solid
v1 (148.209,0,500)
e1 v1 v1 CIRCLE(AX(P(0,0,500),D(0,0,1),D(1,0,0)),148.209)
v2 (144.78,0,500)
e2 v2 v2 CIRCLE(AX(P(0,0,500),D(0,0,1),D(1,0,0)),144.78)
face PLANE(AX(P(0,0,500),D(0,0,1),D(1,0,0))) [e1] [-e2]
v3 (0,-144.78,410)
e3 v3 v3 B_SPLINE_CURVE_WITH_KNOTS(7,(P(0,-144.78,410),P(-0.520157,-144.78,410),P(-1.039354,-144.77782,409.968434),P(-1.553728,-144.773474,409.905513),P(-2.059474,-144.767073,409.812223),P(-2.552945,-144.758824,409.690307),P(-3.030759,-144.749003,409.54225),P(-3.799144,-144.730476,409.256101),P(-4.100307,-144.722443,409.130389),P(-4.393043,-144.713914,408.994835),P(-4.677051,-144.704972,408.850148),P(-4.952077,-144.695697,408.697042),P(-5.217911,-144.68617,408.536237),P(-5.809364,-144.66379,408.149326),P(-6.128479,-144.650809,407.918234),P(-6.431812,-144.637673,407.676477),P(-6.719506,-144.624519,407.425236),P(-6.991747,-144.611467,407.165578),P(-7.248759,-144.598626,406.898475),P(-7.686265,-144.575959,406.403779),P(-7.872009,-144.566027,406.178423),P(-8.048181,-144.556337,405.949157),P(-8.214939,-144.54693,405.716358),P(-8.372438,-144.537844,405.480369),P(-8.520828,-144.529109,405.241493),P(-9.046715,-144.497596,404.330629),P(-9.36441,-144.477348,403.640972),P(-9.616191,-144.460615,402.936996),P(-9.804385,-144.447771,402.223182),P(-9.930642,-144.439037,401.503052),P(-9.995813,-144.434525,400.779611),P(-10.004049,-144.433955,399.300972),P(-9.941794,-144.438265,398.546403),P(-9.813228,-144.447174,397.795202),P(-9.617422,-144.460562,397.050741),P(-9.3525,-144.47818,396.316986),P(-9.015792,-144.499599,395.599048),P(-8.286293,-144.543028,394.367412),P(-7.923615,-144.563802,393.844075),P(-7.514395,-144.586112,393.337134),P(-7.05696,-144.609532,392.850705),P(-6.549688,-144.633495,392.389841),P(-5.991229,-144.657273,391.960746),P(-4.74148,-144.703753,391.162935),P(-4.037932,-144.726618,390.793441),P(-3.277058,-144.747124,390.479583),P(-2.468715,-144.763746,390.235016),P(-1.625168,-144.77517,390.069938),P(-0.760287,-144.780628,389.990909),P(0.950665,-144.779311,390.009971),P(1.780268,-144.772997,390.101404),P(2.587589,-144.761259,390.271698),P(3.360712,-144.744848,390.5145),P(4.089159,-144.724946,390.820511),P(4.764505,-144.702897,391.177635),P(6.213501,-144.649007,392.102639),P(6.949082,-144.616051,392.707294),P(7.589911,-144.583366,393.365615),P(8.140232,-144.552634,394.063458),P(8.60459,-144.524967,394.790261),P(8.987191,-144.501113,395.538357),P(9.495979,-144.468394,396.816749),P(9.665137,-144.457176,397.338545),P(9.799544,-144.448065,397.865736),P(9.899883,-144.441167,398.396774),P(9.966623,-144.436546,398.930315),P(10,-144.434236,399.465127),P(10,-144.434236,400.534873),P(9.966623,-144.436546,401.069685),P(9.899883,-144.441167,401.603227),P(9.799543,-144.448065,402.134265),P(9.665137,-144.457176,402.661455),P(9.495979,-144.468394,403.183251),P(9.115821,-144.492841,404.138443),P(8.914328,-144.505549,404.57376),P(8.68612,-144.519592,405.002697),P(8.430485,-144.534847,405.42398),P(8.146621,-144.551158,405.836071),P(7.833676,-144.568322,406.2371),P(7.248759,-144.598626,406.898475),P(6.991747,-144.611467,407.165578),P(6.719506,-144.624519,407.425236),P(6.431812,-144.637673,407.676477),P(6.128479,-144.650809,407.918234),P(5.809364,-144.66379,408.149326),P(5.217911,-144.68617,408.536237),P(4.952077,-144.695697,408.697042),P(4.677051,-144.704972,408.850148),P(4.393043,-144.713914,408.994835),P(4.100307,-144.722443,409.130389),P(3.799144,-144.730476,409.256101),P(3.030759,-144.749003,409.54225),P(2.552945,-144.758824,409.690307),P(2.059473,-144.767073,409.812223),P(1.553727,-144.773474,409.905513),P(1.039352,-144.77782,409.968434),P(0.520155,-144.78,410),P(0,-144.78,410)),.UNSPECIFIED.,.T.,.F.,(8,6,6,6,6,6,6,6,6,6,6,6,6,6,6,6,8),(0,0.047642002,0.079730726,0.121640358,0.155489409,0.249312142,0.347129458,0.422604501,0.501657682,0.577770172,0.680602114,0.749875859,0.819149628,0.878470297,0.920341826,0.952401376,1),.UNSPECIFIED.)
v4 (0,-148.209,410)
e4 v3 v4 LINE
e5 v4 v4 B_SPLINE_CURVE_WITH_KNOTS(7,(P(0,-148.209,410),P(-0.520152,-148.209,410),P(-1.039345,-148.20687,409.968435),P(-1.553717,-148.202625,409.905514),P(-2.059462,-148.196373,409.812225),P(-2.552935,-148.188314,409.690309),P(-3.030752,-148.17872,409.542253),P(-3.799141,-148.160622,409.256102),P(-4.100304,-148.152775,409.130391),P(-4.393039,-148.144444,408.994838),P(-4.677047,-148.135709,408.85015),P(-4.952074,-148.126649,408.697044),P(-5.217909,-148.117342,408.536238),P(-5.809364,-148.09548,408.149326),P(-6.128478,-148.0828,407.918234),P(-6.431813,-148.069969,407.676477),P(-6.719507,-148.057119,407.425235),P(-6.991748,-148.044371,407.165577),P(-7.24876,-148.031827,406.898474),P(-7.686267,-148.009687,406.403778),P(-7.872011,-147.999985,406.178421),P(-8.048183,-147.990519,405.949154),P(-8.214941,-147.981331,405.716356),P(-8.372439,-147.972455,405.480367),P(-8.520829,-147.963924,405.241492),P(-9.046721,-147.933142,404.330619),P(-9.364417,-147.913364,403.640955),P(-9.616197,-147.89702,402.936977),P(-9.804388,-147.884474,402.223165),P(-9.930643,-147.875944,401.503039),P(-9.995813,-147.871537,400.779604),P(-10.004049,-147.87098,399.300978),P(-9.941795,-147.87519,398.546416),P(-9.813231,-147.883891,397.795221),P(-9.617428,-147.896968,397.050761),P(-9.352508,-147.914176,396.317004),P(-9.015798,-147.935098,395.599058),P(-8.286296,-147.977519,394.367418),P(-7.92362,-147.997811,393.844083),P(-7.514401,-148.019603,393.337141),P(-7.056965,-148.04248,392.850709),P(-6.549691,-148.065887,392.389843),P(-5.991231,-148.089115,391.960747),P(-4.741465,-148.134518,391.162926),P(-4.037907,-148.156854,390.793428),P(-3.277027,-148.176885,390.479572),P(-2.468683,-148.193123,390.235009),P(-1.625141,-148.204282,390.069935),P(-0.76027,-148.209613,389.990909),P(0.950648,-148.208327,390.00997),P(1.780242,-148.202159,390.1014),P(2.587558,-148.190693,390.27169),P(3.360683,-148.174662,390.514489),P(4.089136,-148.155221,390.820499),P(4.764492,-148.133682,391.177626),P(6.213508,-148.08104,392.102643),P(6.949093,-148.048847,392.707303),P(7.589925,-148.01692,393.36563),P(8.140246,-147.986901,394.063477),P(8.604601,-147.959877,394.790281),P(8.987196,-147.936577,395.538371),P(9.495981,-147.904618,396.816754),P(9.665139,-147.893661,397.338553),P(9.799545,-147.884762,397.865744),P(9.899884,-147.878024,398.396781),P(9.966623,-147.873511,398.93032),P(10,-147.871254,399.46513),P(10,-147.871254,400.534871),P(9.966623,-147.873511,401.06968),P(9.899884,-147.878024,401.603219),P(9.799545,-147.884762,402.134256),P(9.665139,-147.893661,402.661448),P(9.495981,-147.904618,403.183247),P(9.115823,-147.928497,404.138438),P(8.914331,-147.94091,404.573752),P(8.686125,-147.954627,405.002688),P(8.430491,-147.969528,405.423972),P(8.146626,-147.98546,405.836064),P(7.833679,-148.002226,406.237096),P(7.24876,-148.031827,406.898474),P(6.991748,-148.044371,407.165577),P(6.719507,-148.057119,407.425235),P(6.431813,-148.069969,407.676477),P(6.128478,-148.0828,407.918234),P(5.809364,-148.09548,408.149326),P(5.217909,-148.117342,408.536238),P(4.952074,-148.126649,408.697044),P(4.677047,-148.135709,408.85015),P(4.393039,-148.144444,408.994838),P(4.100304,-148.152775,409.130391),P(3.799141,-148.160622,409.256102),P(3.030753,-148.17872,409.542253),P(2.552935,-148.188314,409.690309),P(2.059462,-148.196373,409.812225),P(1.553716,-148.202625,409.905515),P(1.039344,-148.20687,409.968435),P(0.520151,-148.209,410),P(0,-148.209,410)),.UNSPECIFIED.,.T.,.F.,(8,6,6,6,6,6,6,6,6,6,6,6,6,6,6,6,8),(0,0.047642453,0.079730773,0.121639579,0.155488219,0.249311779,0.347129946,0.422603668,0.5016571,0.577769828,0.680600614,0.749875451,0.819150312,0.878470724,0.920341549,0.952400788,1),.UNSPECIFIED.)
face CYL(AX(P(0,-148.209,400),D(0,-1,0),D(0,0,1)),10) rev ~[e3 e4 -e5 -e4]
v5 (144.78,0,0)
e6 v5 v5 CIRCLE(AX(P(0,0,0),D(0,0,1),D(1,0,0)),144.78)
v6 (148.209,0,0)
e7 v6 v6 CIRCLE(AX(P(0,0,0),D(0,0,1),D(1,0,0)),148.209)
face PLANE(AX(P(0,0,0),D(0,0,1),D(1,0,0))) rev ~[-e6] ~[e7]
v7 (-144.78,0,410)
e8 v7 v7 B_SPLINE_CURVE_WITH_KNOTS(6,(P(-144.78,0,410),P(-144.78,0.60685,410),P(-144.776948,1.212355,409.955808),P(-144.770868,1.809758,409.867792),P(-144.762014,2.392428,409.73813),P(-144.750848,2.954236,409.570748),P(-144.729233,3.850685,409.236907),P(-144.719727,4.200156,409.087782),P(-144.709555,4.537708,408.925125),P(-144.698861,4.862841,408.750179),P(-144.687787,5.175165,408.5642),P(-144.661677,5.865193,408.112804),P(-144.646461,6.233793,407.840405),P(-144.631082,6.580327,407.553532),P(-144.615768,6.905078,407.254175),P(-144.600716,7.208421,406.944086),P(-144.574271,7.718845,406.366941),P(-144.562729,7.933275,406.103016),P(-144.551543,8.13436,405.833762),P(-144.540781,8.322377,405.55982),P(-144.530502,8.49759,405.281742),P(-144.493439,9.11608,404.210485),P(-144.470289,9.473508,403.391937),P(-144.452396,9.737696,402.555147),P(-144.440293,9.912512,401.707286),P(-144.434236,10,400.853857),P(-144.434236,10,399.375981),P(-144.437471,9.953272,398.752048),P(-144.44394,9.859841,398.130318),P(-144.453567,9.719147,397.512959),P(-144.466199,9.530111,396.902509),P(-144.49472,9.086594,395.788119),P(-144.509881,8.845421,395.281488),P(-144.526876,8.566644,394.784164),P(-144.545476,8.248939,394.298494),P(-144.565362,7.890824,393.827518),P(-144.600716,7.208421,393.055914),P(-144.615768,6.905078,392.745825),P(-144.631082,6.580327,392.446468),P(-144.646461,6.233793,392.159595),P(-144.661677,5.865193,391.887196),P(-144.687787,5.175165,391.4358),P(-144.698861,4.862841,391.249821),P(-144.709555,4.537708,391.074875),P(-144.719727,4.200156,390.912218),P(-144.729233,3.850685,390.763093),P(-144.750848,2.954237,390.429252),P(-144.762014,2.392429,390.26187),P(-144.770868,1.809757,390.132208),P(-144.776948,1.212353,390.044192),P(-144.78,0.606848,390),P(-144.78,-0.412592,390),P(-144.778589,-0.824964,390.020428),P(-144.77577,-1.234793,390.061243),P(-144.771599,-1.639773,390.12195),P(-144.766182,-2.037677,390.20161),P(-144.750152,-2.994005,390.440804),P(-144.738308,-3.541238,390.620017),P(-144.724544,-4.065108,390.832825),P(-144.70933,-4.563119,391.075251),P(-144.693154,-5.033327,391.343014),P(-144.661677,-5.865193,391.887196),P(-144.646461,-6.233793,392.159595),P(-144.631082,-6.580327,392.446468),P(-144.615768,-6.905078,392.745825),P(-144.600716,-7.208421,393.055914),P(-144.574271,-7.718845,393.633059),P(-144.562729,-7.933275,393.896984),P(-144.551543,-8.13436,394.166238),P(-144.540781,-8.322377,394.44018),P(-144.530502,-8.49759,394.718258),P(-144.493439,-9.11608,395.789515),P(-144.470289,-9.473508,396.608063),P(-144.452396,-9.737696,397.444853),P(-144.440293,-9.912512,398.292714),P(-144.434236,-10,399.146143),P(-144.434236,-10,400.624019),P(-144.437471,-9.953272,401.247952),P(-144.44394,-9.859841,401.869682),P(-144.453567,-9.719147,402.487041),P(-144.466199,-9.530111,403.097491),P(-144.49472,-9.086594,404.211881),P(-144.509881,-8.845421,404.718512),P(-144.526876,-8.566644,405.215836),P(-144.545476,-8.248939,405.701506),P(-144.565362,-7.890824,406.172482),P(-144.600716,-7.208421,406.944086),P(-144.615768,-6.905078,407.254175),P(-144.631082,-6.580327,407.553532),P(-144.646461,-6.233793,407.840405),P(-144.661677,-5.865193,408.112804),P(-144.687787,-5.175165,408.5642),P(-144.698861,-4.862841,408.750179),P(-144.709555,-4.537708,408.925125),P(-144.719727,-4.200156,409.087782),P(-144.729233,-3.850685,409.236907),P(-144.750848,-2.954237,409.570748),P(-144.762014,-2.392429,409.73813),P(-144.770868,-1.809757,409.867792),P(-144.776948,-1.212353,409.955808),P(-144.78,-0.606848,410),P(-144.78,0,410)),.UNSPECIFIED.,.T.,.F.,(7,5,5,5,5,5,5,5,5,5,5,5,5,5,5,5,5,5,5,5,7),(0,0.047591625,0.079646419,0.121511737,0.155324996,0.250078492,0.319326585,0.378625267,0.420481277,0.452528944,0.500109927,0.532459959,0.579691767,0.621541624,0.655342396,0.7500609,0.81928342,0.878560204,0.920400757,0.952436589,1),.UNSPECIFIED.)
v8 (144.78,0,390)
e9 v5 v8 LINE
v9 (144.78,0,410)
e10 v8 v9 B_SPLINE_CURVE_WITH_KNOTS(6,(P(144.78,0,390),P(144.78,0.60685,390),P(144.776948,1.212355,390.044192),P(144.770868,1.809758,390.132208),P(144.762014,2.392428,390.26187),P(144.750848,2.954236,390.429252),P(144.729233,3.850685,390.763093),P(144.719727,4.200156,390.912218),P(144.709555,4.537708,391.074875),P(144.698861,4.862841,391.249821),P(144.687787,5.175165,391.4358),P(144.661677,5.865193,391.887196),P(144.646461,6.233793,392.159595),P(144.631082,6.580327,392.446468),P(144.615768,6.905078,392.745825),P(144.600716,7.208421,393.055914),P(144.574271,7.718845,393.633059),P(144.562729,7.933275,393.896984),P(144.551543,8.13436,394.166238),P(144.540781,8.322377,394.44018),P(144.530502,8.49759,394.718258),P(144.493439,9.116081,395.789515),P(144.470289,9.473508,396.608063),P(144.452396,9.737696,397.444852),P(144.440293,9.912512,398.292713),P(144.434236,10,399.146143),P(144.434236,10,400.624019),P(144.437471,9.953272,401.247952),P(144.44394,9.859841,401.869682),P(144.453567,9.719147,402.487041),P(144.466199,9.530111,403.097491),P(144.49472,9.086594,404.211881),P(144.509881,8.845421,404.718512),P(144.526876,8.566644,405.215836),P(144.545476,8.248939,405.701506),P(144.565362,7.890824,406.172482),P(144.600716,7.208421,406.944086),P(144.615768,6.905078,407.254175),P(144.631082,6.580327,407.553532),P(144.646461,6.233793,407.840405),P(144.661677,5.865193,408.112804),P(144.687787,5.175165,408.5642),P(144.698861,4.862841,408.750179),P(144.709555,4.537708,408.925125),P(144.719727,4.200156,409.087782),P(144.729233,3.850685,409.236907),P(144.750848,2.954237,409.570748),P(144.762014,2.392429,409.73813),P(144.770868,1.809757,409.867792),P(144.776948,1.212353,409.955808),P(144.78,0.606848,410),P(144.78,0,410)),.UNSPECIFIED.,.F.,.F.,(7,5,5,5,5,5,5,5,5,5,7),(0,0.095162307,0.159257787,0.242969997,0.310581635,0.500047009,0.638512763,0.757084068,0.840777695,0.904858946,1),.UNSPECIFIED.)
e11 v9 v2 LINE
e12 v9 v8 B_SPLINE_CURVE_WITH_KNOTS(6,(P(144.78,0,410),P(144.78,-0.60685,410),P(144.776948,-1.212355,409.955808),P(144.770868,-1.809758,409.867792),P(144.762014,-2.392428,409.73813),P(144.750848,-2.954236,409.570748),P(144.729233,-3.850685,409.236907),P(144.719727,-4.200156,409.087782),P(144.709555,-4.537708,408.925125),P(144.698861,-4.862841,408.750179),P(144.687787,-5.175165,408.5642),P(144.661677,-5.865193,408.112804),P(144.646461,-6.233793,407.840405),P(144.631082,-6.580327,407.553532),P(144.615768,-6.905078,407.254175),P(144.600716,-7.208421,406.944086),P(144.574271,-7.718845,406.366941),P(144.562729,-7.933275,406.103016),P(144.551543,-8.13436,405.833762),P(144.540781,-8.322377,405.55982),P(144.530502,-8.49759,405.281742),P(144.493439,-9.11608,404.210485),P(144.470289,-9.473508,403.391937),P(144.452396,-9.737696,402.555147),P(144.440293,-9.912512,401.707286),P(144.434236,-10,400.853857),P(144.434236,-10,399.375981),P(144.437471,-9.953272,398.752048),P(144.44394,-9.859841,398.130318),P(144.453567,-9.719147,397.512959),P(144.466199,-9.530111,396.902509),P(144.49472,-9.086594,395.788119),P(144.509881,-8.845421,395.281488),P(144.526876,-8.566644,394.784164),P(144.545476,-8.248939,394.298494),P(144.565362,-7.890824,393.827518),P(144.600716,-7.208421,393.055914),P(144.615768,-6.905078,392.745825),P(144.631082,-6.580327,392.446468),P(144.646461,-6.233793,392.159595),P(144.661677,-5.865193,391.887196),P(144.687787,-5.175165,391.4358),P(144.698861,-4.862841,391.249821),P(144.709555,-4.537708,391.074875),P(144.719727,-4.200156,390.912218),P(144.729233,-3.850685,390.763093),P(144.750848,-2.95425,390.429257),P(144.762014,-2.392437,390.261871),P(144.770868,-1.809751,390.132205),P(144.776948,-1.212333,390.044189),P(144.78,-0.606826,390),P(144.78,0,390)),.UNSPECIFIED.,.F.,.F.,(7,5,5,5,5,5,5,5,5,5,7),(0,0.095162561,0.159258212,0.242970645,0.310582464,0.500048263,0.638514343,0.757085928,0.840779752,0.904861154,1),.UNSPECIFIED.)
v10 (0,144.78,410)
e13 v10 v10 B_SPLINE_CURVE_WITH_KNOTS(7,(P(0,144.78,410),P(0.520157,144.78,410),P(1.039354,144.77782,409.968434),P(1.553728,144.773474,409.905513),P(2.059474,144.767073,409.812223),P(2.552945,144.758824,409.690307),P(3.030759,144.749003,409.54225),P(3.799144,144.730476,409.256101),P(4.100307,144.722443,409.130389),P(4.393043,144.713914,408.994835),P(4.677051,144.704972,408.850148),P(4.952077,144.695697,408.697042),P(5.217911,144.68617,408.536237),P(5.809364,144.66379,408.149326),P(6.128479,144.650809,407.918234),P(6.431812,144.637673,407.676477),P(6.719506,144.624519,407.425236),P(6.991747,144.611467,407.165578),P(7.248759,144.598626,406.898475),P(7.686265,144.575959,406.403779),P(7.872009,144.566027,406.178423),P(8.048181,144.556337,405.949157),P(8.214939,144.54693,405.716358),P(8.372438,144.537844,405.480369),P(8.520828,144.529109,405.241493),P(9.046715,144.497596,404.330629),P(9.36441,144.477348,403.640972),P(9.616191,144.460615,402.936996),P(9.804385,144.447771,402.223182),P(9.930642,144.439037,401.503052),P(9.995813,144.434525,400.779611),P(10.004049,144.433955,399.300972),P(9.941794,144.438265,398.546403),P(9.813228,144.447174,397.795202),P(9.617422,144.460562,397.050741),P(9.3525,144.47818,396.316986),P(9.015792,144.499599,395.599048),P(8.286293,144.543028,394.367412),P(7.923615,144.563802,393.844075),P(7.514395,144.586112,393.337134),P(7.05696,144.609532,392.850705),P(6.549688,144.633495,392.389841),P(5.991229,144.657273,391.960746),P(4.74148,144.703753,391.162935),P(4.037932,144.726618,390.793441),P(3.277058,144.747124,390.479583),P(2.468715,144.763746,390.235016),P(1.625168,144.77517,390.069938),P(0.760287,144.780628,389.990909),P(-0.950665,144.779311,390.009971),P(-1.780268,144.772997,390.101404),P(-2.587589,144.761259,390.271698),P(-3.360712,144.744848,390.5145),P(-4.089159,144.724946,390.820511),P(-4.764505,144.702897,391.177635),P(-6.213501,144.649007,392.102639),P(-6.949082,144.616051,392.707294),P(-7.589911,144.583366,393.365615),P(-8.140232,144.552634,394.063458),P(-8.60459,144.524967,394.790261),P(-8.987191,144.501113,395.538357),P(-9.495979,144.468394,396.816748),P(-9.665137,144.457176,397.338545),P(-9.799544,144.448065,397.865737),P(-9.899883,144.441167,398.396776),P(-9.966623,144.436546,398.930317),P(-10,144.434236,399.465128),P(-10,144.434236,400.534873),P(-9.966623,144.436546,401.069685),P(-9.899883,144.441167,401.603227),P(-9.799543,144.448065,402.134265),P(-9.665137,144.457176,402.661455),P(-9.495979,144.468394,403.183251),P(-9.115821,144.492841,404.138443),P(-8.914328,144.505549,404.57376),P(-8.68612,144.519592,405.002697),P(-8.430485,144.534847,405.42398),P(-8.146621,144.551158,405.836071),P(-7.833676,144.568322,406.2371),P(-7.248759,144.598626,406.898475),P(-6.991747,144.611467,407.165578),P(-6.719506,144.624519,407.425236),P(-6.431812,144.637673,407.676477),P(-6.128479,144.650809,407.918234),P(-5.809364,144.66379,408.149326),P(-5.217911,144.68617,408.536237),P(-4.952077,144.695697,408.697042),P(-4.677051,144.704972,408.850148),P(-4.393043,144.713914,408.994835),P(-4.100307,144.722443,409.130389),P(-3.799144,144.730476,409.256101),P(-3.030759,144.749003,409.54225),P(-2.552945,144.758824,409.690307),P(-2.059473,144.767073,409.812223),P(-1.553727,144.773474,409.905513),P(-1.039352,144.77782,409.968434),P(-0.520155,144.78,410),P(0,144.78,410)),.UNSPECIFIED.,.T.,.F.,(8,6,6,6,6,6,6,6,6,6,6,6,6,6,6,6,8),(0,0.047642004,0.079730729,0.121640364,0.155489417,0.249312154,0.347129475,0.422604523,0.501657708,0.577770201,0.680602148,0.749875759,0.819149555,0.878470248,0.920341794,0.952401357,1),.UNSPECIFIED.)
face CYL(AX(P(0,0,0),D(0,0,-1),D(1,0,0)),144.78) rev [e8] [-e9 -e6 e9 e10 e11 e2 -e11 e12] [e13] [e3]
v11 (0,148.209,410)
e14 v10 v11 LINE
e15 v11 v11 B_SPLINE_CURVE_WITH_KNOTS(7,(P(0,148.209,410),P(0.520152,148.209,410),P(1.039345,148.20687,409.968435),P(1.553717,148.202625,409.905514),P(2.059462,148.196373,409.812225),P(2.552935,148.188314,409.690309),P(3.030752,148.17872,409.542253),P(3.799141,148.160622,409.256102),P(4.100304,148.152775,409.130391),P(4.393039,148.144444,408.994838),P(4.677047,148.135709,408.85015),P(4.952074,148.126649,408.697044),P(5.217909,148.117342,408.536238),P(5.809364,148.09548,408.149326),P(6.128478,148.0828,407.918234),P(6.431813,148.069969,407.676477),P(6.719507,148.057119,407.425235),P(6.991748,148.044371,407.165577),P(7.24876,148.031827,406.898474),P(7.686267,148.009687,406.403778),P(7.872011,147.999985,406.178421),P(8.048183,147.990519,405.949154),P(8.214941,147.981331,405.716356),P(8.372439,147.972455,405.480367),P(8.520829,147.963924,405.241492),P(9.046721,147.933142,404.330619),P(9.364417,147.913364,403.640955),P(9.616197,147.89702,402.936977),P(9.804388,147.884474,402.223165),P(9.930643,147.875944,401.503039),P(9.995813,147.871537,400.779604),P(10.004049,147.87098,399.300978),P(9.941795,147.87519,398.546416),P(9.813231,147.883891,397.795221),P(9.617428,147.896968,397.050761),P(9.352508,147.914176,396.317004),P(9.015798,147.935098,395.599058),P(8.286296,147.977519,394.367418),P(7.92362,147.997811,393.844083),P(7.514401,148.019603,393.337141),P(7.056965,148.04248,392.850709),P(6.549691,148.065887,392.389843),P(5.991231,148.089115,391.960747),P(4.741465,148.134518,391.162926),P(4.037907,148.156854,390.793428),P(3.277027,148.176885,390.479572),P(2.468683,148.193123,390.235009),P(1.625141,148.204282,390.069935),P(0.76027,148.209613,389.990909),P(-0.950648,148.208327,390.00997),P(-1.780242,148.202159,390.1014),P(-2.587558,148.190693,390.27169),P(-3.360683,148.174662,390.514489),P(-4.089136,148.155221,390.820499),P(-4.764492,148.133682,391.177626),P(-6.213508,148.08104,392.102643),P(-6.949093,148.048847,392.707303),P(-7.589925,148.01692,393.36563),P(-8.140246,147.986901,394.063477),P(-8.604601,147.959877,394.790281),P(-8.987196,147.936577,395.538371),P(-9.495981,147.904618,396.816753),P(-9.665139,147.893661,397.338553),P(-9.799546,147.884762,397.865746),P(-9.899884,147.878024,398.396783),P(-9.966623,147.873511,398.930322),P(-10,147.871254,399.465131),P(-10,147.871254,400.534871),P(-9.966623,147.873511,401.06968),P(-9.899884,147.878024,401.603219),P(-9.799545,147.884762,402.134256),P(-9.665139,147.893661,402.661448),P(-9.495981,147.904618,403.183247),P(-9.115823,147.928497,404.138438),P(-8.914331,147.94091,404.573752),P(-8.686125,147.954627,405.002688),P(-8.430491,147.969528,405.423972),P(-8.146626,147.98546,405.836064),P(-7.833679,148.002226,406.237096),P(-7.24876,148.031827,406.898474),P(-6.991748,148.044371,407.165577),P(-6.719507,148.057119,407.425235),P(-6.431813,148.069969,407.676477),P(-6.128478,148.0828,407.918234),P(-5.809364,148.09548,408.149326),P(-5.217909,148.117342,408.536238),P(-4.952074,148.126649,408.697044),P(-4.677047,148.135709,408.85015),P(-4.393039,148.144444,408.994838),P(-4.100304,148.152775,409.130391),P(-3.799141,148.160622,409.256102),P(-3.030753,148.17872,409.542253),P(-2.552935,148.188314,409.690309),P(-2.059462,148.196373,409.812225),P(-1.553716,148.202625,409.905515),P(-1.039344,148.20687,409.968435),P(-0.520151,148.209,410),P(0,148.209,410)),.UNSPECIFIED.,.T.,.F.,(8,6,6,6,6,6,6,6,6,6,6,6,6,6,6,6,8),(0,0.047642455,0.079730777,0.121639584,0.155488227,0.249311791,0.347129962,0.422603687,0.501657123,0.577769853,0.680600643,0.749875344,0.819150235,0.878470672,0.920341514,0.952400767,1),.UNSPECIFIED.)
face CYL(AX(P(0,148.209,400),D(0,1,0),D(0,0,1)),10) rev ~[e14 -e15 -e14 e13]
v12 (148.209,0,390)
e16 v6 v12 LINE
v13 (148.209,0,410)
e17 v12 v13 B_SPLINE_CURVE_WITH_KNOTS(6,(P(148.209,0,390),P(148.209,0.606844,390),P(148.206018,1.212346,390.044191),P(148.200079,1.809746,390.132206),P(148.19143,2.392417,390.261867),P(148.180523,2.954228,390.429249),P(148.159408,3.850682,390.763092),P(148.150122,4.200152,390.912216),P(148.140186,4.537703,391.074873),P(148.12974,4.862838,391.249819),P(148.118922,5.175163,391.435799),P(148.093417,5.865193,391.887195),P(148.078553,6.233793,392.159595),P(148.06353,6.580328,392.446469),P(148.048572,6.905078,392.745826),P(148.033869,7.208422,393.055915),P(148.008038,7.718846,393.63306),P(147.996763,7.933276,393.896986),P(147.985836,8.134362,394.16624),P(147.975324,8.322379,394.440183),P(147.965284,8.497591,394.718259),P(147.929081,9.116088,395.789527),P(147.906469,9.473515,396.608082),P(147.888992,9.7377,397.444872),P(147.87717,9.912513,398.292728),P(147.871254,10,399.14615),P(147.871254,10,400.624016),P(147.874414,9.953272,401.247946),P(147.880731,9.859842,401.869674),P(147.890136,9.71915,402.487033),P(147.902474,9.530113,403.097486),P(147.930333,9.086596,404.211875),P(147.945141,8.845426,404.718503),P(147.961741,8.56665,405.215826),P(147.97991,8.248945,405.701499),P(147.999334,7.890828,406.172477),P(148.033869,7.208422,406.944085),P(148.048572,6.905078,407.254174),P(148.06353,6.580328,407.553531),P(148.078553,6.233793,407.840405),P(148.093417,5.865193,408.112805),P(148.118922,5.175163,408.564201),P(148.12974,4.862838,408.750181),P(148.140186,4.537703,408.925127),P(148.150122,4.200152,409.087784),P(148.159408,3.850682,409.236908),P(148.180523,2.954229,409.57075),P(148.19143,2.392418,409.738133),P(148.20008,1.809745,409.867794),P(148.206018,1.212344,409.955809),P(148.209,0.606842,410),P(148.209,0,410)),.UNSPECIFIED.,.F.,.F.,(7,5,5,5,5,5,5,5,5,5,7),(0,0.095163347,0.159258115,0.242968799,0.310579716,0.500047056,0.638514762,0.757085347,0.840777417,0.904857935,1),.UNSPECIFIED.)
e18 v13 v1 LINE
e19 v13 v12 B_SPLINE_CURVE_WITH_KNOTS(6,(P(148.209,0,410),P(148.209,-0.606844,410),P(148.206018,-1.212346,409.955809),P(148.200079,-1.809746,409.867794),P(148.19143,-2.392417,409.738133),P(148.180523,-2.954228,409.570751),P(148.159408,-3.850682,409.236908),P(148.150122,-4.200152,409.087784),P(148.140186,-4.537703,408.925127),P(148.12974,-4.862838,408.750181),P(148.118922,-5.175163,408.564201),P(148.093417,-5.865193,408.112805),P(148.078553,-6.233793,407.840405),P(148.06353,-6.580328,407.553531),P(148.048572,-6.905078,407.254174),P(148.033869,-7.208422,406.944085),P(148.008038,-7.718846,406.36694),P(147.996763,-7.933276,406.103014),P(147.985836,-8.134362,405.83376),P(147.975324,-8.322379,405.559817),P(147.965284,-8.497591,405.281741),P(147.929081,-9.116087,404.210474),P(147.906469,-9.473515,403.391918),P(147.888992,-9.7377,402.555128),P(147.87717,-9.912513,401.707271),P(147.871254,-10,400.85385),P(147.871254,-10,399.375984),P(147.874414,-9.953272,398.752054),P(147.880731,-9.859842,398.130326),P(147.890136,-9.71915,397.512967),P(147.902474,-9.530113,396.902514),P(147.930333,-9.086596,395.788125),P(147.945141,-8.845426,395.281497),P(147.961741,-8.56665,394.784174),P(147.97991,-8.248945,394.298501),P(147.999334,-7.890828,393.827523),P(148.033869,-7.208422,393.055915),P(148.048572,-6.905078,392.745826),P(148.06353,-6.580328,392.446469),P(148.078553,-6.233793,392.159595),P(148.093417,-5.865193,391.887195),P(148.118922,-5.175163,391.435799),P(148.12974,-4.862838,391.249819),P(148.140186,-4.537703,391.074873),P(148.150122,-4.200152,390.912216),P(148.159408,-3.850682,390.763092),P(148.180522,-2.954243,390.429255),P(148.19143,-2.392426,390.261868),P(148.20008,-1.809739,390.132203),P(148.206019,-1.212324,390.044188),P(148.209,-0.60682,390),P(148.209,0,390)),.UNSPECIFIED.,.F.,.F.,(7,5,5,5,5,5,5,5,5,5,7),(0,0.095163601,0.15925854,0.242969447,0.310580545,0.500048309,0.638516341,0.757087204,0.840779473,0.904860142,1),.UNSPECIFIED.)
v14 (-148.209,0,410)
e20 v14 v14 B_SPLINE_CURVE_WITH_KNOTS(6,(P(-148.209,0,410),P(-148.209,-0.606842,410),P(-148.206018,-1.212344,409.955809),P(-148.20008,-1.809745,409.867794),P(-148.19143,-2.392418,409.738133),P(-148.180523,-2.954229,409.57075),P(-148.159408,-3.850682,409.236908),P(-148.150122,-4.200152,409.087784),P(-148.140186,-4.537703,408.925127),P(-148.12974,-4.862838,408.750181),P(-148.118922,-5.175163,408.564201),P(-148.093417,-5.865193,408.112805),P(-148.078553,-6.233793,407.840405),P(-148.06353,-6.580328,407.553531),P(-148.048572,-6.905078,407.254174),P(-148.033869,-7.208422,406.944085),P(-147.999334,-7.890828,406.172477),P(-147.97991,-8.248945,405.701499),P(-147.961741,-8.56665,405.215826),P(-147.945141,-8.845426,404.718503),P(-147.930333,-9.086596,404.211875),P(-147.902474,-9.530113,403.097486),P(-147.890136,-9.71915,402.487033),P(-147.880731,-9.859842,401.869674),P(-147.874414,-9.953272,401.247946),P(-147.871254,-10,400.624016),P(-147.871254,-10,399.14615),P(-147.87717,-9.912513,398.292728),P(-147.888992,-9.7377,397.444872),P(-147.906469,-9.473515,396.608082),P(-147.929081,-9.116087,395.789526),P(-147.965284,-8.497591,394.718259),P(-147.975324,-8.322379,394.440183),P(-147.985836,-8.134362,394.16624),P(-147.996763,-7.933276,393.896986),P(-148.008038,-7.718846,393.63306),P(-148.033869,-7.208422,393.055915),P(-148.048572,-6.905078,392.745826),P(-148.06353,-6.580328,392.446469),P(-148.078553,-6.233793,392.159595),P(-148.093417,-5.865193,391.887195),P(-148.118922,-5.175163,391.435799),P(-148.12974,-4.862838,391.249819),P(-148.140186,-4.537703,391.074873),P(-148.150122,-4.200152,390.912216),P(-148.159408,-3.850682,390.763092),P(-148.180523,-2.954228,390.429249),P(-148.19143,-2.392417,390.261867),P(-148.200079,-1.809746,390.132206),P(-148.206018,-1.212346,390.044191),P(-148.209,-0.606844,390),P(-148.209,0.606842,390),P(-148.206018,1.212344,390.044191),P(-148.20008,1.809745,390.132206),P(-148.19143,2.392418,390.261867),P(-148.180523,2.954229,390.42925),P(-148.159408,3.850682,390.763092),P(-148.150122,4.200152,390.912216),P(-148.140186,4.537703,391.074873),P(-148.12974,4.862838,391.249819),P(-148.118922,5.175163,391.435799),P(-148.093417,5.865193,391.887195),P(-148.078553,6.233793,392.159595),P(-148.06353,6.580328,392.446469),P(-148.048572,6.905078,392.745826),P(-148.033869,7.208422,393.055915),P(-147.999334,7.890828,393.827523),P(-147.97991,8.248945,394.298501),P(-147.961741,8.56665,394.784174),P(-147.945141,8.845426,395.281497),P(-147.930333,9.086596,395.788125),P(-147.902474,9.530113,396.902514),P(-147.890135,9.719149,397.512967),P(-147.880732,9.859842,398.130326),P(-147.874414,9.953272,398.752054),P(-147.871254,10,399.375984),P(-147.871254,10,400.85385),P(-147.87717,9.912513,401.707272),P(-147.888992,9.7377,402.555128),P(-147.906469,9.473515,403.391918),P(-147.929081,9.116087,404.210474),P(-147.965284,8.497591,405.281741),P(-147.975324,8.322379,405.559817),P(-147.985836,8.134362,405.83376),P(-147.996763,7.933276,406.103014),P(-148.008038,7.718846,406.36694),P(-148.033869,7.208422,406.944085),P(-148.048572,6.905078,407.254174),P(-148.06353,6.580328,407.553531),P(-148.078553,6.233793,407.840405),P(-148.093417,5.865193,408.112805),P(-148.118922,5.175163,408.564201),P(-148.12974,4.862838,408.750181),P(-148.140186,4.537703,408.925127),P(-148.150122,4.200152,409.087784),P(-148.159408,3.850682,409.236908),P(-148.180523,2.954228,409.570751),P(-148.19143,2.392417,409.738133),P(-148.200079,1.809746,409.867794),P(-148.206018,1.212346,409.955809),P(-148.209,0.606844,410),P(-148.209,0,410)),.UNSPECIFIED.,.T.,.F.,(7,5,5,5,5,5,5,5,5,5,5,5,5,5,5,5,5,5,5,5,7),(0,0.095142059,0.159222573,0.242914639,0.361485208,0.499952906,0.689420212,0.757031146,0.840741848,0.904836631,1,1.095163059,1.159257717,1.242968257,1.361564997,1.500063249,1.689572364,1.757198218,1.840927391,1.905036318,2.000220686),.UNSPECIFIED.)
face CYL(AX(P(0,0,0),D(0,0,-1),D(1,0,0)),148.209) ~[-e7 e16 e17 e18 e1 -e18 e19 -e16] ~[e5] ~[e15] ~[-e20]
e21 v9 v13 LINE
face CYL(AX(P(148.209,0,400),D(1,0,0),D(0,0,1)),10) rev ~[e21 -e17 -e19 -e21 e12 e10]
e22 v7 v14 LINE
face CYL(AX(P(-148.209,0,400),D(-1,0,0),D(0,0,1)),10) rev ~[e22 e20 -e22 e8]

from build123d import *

# Parameters (mm, degrees)
SKETCH_1_R               = 148.209
SKETCH_1_R_2             = 144.78
EXTRUDE_1_DEPTH          = 500
SKETCH_2_W               = 10
SKETCH_2_H               = 30
PATTERN_CIRCULAR_1_COUNT = 4


with BuildPart() as part:
    # 草圖1 → 填料-伸長1 (new body)
    with BuildSketch(Plane.XY):
        Circle(SKETCH_1_R)
        Circle(SKETCH_1_R_2, mode=Mode.SUBTRACT)
    extrude(amount=EXTRUDE_1_DEPTH)

    # 草圖2 → 除料-旋轉1 (revolve, cut)
    with BuildSketch(Plane(origin=(0, 0, 0), x_dir=(0, 0, -1), z_dir=(1, 0, 0))):
        with Locations((-405, 148.209)):
            Rectangle(SKETCH_2_W, SKETCH_2_H)
    cut_revolve_1 = revolve(axis=Axis((0, 133.209, 400), (0, 1, 0)), mode=Mode.SUBTRACT)

    # 環狀複製排列1: 除料-旋轉1 ×4 about axis
    pattern_circular_1_axis = Axis((0, 0, 500), (0, 0, -1))
    for i in range(1, PATTERN_CIRCULAR_1_COUNT):
        add(cut_revolve_1.rotate(pattern_circular_1_axis, i * 360 / PATTERN_CIRCULAR_1_COUNT), mode=Mode.SUBTRACT)


solid = part.part
